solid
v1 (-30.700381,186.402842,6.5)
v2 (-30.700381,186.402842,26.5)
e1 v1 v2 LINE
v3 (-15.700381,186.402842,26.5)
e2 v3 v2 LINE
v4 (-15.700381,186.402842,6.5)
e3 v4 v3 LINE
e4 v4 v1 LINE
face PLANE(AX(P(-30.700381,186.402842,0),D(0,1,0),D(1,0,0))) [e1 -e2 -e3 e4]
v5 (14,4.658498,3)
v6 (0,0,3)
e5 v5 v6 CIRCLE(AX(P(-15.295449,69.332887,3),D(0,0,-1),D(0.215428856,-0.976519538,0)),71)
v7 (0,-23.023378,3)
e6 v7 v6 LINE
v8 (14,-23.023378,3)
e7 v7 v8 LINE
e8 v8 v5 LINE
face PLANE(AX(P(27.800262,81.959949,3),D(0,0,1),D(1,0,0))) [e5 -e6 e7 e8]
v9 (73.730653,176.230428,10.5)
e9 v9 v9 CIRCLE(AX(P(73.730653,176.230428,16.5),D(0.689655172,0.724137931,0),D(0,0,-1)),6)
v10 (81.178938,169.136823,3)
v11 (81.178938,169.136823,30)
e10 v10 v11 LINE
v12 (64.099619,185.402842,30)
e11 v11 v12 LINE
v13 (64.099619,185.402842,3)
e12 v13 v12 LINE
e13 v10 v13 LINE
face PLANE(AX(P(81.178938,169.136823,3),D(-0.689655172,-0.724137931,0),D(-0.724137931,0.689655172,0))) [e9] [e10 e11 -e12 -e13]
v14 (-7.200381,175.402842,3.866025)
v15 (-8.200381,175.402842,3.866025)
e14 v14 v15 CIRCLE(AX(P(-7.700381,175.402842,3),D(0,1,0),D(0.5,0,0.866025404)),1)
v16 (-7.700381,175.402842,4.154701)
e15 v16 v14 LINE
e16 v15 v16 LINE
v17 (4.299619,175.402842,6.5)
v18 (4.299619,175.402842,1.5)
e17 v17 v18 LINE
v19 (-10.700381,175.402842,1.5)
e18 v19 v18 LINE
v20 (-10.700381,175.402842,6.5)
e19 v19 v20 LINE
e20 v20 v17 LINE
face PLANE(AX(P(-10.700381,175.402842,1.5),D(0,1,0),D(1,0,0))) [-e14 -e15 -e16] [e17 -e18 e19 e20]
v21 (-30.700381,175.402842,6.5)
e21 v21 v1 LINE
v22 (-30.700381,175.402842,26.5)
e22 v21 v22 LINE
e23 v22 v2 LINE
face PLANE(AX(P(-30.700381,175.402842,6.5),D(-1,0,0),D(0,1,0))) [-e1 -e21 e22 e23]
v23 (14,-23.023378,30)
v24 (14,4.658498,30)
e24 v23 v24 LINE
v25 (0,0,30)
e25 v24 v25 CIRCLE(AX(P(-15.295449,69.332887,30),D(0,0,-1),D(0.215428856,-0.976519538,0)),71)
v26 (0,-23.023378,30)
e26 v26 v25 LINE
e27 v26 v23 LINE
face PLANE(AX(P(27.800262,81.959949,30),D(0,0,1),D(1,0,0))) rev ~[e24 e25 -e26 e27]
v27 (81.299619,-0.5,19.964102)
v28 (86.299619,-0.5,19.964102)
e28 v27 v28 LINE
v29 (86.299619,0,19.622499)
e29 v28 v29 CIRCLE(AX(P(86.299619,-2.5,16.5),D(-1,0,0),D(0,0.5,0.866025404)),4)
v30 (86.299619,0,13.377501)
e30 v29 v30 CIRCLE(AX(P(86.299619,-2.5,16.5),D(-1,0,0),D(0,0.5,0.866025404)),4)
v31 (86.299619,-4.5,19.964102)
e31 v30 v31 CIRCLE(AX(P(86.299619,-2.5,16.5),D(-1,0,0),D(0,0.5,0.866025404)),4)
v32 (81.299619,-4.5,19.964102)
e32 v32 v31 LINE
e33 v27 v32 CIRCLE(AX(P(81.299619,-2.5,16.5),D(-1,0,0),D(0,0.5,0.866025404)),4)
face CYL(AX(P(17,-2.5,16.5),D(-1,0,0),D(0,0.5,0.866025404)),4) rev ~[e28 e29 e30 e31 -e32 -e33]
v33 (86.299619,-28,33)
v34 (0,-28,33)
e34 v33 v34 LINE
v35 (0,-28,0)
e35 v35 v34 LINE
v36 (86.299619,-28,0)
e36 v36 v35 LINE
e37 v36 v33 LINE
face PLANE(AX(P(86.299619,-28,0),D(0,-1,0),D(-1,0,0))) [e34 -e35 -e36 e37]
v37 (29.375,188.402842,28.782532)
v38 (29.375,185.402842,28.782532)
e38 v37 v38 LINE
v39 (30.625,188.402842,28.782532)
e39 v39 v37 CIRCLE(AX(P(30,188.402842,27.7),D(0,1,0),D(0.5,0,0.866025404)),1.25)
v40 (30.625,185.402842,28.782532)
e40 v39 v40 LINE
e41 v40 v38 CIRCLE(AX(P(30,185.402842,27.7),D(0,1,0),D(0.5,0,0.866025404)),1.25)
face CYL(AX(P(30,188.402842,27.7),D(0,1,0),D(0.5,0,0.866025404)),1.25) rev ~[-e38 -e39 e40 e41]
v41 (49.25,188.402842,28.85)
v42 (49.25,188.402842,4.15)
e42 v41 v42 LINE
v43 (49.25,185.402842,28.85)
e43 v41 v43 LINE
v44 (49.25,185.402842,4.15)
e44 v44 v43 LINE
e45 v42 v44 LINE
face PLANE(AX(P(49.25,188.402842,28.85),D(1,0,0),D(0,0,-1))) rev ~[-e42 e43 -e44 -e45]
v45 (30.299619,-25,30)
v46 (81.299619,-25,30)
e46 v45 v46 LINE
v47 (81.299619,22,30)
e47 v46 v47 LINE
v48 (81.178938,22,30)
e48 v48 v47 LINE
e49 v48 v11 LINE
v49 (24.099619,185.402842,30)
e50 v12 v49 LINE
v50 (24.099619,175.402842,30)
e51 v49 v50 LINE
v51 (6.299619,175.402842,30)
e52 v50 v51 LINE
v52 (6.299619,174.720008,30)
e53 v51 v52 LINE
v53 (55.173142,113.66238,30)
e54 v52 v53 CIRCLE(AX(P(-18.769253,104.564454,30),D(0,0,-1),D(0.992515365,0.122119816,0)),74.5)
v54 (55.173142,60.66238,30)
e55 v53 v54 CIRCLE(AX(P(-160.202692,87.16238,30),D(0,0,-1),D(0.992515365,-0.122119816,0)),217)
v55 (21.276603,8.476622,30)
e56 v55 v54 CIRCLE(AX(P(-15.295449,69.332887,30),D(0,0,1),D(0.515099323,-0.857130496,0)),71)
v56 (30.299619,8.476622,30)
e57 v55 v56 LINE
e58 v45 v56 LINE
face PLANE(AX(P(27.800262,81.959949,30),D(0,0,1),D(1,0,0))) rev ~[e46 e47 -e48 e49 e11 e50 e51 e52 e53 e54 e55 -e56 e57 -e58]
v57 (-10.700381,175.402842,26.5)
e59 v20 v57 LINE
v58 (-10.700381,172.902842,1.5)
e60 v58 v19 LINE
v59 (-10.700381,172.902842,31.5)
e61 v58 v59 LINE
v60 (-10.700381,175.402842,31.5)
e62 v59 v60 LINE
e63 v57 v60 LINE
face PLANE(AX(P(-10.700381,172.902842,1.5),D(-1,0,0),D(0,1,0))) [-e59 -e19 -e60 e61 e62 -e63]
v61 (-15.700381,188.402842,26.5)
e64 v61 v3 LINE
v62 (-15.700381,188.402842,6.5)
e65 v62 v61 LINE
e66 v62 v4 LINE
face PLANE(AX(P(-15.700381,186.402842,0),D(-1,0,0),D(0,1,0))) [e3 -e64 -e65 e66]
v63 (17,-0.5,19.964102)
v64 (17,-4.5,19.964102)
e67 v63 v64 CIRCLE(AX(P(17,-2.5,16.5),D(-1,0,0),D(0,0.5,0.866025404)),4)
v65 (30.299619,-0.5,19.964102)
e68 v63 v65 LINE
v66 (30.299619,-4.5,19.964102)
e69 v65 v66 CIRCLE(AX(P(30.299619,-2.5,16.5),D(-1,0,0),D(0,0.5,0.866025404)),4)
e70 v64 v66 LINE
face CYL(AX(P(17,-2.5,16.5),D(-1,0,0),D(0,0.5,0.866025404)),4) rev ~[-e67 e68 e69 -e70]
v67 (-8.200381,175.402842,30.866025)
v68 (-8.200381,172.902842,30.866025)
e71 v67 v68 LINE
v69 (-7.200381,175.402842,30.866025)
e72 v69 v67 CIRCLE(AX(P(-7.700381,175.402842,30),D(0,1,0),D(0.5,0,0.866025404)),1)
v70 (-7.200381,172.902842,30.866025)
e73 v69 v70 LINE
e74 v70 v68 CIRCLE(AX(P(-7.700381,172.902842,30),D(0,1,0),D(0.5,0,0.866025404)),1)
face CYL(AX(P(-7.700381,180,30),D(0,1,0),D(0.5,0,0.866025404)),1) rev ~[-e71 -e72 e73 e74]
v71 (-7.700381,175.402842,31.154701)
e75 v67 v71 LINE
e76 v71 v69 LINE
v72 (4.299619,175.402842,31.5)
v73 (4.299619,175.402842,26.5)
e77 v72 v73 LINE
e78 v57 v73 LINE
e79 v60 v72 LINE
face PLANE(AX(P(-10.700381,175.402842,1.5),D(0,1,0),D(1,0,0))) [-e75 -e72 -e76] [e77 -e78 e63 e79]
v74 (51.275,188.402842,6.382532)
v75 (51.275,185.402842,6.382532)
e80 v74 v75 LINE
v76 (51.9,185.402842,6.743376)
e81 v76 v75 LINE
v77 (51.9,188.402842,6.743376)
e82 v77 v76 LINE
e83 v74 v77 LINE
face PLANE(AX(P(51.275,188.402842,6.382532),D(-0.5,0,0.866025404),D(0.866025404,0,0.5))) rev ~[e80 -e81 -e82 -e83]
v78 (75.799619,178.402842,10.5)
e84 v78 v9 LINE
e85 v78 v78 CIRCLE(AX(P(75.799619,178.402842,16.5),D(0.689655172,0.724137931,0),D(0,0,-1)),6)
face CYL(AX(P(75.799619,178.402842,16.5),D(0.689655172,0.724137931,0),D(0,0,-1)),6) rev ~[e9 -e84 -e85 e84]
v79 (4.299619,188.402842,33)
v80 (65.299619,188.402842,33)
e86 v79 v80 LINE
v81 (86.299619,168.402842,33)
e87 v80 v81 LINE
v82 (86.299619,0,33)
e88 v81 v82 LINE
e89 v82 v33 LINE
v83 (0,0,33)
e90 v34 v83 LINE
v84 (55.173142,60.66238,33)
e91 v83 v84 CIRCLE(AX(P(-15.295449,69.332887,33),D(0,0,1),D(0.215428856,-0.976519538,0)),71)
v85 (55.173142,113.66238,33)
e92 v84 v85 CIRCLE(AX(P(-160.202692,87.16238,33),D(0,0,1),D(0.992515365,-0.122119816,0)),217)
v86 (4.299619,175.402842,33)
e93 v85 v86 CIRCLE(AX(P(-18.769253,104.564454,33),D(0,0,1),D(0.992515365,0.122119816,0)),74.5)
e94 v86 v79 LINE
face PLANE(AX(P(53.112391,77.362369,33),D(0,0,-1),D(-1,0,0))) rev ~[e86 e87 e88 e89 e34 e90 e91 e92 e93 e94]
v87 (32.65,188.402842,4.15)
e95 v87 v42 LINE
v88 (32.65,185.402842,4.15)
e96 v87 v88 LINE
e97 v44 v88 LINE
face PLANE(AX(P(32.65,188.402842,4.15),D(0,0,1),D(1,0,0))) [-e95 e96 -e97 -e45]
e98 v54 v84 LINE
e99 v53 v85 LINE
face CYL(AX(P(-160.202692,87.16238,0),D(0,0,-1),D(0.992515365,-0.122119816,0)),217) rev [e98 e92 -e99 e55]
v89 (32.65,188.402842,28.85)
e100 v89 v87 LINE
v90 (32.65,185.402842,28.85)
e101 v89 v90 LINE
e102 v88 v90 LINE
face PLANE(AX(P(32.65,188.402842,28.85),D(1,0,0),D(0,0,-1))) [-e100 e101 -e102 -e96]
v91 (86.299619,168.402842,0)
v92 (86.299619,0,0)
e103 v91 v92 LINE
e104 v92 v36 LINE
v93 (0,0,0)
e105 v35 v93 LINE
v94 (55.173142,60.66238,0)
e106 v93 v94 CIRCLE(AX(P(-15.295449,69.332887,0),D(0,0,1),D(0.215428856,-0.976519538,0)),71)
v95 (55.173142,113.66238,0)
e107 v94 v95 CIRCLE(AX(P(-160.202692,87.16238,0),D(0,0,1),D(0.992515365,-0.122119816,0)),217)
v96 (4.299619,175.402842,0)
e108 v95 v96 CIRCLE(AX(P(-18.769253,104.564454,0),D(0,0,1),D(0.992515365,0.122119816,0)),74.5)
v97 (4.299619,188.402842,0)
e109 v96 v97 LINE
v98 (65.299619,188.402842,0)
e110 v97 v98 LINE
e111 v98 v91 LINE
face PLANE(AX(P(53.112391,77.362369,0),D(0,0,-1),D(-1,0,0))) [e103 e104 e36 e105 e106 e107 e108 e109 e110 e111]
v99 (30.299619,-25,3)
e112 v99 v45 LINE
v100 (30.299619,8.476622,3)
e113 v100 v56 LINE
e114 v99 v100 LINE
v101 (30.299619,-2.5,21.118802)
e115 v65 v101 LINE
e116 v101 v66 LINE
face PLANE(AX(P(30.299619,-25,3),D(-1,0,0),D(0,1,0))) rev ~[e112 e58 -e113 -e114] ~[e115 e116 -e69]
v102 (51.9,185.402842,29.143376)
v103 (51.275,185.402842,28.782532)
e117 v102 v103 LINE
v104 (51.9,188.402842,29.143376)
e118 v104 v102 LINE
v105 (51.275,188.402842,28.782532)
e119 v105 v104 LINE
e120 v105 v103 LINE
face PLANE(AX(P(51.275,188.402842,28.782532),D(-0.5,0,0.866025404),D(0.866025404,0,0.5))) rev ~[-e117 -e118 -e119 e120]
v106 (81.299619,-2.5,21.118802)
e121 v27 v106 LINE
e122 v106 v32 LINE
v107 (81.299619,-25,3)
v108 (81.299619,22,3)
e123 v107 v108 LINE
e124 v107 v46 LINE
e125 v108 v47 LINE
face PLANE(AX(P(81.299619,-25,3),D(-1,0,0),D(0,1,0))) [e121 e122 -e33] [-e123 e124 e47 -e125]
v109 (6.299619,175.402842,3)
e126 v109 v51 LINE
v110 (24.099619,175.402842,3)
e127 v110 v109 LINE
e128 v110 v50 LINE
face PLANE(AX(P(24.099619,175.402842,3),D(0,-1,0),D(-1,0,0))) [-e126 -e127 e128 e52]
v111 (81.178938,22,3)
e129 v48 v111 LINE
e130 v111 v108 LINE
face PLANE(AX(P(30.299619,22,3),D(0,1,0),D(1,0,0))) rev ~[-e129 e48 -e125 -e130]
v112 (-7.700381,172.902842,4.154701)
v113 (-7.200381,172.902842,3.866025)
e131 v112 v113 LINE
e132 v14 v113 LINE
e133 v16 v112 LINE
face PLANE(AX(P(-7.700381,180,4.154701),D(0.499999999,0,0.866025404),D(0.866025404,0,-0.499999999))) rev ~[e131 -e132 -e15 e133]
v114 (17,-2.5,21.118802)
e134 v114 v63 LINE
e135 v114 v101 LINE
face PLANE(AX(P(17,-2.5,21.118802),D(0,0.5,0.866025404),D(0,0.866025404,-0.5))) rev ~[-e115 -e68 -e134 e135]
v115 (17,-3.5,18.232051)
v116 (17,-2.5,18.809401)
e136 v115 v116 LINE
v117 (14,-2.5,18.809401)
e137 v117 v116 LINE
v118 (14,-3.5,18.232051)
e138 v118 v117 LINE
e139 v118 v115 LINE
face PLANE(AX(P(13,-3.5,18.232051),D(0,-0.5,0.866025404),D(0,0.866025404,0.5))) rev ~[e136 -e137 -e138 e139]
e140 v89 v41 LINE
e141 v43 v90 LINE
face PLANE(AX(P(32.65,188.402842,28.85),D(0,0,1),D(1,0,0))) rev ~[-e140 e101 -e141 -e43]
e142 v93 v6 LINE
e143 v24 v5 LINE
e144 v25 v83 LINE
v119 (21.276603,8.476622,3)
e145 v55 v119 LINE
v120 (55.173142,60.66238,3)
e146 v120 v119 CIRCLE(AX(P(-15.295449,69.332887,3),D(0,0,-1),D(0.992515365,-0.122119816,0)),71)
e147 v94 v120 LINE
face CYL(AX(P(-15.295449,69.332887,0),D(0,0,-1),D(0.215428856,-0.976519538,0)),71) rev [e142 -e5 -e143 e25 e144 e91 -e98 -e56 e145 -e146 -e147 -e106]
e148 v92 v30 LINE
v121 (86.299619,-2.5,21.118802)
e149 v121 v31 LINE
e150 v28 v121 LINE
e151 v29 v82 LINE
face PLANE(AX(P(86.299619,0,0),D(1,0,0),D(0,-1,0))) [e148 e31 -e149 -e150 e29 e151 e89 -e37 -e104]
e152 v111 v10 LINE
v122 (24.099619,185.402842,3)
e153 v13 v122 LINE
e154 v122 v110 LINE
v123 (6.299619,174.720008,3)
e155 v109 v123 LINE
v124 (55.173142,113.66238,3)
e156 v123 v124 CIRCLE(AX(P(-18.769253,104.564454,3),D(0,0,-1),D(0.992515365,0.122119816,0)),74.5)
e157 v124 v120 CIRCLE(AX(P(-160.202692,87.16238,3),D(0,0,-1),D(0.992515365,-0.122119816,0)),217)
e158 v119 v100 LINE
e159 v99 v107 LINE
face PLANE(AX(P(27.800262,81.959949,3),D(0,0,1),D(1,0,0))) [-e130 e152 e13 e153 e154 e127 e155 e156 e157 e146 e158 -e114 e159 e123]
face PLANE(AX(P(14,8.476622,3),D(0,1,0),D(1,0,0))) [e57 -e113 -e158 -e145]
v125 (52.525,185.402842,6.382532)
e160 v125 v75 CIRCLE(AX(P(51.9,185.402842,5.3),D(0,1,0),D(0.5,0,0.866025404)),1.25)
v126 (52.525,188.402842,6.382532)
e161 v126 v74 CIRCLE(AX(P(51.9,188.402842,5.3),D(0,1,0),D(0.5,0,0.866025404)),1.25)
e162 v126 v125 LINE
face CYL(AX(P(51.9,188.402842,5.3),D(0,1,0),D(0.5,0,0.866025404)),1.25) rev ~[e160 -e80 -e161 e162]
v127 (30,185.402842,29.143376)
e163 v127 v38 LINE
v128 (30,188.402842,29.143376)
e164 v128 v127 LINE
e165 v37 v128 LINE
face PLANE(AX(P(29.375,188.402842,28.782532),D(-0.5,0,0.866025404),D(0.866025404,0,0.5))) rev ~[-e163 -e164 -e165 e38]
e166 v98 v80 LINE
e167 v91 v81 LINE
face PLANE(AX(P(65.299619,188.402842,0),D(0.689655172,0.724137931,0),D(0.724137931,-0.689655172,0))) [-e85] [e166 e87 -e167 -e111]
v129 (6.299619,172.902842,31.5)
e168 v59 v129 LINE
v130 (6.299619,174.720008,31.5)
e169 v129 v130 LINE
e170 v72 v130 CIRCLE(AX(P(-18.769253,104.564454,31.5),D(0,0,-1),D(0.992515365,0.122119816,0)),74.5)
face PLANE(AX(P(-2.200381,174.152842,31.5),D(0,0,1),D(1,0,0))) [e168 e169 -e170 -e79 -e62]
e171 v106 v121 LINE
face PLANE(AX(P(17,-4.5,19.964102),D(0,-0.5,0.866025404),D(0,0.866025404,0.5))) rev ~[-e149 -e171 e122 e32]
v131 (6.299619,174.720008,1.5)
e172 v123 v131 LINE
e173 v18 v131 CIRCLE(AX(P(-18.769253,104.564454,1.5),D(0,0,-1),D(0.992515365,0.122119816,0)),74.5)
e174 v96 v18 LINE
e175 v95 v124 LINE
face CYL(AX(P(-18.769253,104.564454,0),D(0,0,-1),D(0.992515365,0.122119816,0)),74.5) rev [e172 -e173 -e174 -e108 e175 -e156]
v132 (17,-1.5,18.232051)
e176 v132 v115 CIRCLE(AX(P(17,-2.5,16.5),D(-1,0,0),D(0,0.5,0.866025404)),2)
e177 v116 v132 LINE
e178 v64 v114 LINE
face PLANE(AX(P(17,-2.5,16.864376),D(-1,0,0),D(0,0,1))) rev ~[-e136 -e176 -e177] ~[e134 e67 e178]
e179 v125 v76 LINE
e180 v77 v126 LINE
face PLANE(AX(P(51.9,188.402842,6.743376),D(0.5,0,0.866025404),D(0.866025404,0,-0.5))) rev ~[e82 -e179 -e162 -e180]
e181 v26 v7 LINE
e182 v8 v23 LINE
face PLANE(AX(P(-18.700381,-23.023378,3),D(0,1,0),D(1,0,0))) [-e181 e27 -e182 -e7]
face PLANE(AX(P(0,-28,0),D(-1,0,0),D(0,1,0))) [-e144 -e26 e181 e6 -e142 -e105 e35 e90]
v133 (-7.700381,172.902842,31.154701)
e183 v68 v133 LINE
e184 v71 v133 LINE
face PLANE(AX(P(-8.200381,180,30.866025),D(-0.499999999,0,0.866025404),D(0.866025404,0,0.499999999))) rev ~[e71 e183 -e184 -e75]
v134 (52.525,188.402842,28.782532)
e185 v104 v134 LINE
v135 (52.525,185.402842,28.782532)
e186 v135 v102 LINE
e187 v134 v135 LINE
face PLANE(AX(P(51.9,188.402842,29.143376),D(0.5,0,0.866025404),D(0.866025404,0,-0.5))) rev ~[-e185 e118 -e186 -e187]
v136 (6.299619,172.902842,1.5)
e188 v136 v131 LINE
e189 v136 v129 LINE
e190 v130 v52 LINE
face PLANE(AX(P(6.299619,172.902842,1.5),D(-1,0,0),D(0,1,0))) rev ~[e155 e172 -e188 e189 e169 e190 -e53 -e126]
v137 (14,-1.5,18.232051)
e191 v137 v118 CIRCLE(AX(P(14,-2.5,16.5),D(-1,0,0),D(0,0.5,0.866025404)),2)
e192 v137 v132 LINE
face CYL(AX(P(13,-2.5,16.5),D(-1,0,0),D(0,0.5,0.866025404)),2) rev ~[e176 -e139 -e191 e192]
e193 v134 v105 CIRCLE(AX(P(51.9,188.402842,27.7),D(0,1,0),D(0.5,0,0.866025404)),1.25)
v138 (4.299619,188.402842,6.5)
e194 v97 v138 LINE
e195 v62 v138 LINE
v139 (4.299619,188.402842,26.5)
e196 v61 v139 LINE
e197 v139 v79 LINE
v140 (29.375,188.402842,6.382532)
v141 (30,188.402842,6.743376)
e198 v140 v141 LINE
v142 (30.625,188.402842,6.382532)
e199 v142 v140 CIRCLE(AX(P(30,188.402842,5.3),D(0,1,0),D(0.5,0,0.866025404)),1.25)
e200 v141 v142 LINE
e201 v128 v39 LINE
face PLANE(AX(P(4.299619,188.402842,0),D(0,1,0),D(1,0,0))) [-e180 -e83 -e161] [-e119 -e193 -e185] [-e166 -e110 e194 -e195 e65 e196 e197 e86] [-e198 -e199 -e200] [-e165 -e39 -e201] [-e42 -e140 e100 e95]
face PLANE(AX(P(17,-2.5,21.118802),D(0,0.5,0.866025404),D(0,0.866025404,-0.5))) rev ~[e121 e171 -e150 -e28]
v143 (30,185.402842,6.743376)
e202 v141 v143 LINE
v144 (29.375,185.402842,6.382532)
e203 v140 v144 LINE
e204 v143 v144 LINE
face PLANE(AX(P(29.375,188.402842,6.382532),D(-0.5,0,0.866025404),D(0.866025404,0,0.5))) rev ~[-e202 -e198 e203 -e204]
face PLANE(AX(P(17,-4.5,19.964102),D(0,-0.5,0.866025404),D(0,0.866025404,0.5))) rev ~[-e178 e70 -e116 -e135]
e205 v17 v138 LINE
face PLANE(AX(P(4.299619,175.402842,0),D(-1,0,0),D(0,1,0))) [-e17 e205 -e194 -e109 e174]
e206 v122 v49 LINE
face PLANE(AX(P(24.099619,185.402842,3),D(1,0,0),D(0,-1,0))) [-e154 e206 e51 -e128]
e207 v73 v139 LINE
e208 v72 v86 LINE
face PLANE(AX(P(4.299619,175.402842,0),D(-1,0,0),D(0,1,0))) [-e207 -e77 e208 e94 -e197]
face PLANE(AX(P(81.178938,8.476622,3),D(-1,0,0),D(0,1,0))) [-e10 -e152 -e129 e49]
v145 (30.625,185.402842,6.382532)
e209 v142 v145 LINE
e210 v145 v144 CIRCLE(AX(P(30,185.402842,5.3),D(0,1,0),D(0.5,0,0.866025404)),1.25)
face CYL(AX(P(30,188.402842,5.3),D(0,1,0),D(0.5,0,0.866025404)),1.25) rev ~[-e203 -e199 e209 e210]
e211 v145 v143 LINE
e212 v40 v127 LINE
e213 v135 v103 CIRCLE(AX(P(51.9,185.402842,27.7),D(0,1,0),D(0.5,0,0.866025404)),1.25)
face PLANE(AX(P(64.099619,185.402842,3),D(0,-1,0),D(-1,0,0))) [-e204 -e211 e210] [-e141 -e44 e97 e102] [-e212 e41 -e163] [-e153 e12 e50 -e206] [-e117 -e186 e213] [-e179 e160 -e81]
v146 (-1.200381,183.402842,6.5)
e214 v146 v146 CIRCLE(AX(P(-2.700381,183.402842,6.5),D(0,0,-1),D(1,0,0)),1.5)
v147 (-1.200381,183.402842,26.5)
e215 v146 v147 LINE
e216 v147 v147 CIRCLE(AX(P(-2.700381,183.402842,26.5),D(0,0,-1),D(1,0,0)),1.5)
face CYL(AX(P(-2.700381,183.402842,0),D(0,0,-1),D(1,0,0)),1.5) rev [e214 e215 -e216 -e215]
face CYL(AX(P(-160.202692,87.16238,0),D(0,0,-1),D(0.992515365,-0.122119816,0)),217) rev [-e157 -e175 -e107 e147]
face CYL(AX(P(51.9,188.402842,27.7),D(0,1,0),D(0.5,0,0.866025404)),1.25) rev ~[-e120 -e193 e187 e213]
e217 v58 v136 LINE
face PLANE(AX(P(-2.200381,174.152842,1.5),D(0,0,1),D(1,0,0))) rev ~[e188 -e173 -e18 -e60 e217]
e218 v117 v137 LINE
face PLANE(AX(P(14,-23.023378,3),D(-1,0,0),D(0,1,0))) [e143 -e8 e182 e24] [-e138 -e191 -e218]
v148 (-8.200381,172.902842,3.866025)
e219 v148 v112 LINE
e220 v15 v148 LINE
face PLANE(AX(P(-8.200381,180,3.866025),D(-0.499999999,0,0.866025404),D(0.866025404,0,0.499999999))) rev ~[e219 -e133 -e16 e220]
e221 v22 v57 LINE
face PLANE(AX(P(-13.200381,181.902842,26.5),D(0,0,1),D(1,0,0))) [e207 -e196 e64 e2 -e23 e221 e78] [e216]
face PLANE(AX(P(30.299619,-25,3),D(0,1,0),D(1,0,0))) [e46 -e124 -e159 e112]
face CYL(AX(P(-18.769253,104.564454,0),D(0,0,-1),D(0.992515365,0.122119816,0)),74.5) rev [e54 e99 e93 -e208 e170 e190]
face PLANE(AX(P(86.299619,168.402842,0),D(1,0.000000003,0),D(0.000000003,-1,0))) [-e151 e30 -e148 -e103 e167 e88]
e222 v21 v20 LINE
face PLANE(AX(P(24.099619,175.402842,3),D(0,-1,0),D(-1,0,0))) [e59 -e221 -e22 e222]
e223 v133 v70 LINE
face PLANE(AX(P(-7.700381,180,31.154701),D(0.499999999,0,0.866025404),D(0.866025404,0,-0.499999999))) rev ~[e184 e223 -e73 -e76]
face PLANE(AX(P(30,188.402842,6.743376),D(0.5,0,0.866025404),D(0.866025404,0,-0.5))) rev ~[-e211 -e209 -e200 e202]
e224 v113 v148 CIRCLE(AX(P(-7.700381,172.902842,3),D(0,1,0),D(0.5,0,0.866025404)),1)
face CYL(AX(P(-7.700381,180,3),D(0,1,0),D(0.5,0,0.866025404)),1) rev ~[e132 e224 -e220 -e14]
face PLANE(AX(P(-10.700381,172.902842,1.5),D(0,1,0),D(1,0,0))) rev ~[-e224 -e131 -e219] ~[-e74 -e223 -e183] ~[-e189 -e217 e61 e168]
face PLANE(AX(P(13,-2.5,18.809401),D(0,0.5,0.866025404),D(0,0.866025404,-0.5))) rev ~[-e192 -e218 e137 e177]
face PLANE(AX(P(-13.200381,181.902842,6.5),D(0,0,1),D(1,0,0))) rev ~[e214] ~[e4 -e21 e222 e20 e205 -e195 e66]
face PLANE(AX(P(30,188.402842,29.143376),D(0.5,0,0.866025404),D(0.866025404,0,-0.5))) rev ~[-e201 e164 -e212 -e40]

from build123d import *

# Parameters (mm, degrees)
EXTRUDE_6_DEPTH      = 33
CUT_EXTRUDE_START    = 3
CUT_EXTRUDE_2_DEPTH  = 27
EXTRUDE_START        = 6.5
SKETCH_7_W           = 35
SKETCH_7_H           = 13
EXTRUDE_7_DEPTH      = 20
EXTRUDE_START_2      = 1.5
SKETCH_11_W          = 17
SKETCH_11_H          = 2.5
EXTRUDE_15_DEPTH     = 30
CUT_EXTRUDE_START_2  = 180
CUT_EXTRUDE_3_DEPTH  = 10
SKETCH_13_R          = 1.5
CUT_EXTRUDE_4_DEPTH  = 30
SKETCH_14_W          = 15
SKETCH_14_H          = 2
CUT_EXTRUDE_5_DEPTH  = 30
EXTRUDE_START_3      = 11.5
SKETCH_15_W          = 67.299618531
SKETCH_15_H          = 10
EXTRUDE_16_DEPTH     = 10
CUT_EXTRUDE_START_3  = 17
CUT_EXTRUDE_7_DEPTH  = 75
CUT_EXTRUDE_START_4  = 13
CUT_EXTRUDE_9_DEPTH  = 5
SKETCH_20_W          = 16.6
SKETCH_20_H          = 24.7
CUT_EXTRUDE_10_DEPTH = 5
SKETCH_21_R          = 6
CUT_EXTRUDE_11_DEPTH = 5
SKETCH_22_W          = 51
SKETCH_22_H          = 47
CUT_EXTRUDE_12_DEPTH = 27


with BuildPart() as part:
    # Эскиз1 → Бобышка-Вытянуть6 (new body)
    with BuildSketch(Plane.XY):
        with BuildLine():
            Line((4.299618531, 175.402841826), (4.299618531, 188.402841826))
            Line((4.299618531, 188.402841826), (65.299618531, 188.402841826))
            Line((65.299618531, 188.402841826), (86.299618531, 168.402841826))
            Line((86.299618531, 168.402841826), (86.299619, 0))
            Line((86.299619, 0), (86.299619, -28))
            Line((86.299619, -28), (0, -28))
            Line((0, -28), (0, 0))
            ThreePointArc((0, 0), (37.229295141, 21.561020186), (55.173142182, 60.662380285))
            ThreePointArc((55.173142182, 60.662380285), (56.797307883, 87.162380285), (55.173142182, 113.662380285))
            ThreePointArc((55.173142182, 113.662380285), (38.726552267, 151.940422917), (4.299618531, 175.402841826))
        make_face()
    extrude(amount=EXTRUDE_6_DEPTH)

    # Эскиз5 → Вырез-Вытянуть2 (cut)
    with BuildSketch(Plane.XY.offset(CUT_EXTRUDE_START)):
        Polygon((24.099618531, 175.402841826), (4.299618531, 175.402841826), (4.299618531, 169.136823089), (-18.700381469, 169.136823089), (-18.700381469, -23.02337805), (14, -23.02337805), (14, 8.47662195), (81.178938205, 8.47662195), (81.178938205, 169.136823089), (64.099618531, 185.402841826), (24.099618531, 185.402841826), align=None)
    extrude(amount=CUT_EXTRUDE_2_DEPTH, mode=Mode.SUBTRACT)

    # Эскиз7 → Бобышка-Вытянуть7 (add)
    with BuildSketch(Plane.XY.offset(EXTRUDE_START)):
        with Locations((-13.200381469, 181.902841826)):
            Rectangle(SKETCH_7_W, SKETCH_7_H)
    extrude(amount=EXTRUDE_7_DEPTH)

    # Эскиз11 → Бобышка-Вытянуть15 (add)
    with BuildSketch(Plane.XY.offset(EXTRUDE_START_2)):
        with Locations((-2.200381469, 174.152841826)):
            Rectangle(SKETCH_11_W, SKETCH_11_H)
    extrude(amount=EXTRUDE_15_DEPTH)

    # Эскиз12 → Вырез-Вытянуть3 (cut)
    with BuildSketch(Plane(origin=(0, 0, 0), x_dir=(1, 0, 0), z_dir=(0, 1, 0)).offset(CUT_EXTRUDE_START_2)):
        with BuildLine():
            Line((-7.700381469, -31.154700538), (-7.200381469, -30.866025404))
            ThreePointArc((-7.200381469, -30.866025404), (-7.700381469, -29), (-8.200381469, -30.866025404))
            Line((-8.200381469, -30.866025404), (-7.700381469, -31.154700538))
        make_face()
        with BuildLine():
            Line((-7.700381469, -4.154700538), (-7.200381469, -3.866025404))
            ThreePointArc((-7.200381469, -3.866025404), (-7.700381469, -2), (-8.200381469, -3.866025404))
            Line((-8.200381469, -3.866025404), (-7.700381469, -4.154700538))
        make_face()
    extrude(amount=-CUT_EXTRUDE_3_DEPTH, mode=Mode.SUBTRACT)

    # Эскиз13 → Вырез-Вытянуть4 (cut)
    with BuildSketch(Plane.XY):
        with Locations((-2.700381469, 183.402841826)):
            Circle(SKETCH_13_R)
    extrude(amount=CUT_EXTRUDE_4_DEPTH, mode=Mode.SUBTRACT)

    # Эскиз14 → Вырез-Вытянуть5 (cut)
    with BuildSketch(Plane.XY):
        with Locations((-23.200381469, 187.402841826)):
            Rectangle(SKETCH_14_W, SKETCH_14_H)
    extrude(amount=CUT_EXTRUDE_5_DEPTH, mode=Mode.SUBTRACT)

    # Эскиз15 → Бобышка-Вытянуть16 (add)
    with BuildSketch(Plane.XY.offset(EXTRUDE_START_3)):
        with Locations((47.649809735, -2.5)):
            Rectangle(SKETCH_15_W, SKETCH_15_H)
    extrude(amount=EXTRUDE_16_DEPTH)

    # Эскиз17 → Вырез-Вытянуть7 (cut)
    with BuildSketch(Plane(origin=(0, 0, 0), x_dir=(0, 0, -1), z_dir=(1, 0, 0)).offset(CUT_EXTRUDE_START_3)):
        with BuildLine():
            Line((-21.118802154, -2.5), (-19.964101615, -0.5))
            ThreePointArc((-19.964101615, -0.5), (-12.5, -2.5), (-19.964101615, -4.5))
            Line((-19.964101615, -4.5), (-21.118802154, -2.5))
        make_face()
    extrude(amount=CUT_EXTRUDE_7_DEPTH, mode=Mode.SUBTRACT)

    # Эскиз18 → Вырез-Вытянуть9 (cut)
    with BuildSketch(Plane(origin=(0, 0, 0), x_dir=(0, 0, -1), z_dir=(1, 0, 0)).offset(CUT_EXTRUDE_START_4)):
        with BuildLine():
            Line((-18.809401077, -2.5), (-18.232050808, -1.5))
            ThreePointArc((-18.232050808, -1.5), (-14.5, -2.5), (-18.232050808, -3.5))
            Line((-18.232050808, -3.5), (-18.809401077, -2.5))
        make_face()
    extrude(amount=CUT_EXTRUDE_9_DEPTH, mode=Mode.SUBTRACT)

    # Эскиз20 → Вырез-Вытянуть10 (cut)
    with BuildSketch(Plane(origin=(0, 188.402841826, 0), x_dir=(1, 0, 0), z_dir=(0, 1, 0))):
        with Locations((40.95, -16.5)):
            Rectangle(SKETCH_20_W, SKETCH_20_H)
        with BuildLine():
            Line((30, -29.143375673), (30.625, -28.782531755))
            ThreePointArc((30.625, -28.782531755), (30, -26.45), (29.375, -28.782531755))
            Line((29.375, -28.782531755), (30, -29.143375673))
        make_face()
        with BuildLine():
            Line((30, -6.743375673), (30.625, -6.382531755))
            ThreePointArc((30.625, -6.382531755), (30, -4.05), (29.375, -6.382531755))
            Line((29.375, -6.382531755), (30, -6.743375673))
        make_face()
        with BuildLine():
            Line((51.9, -6.743375673), (52.525, -6.382531755))
            ThreePointArc((52.525, -6.382531755), (51.9, -4.05), (51.275, -6.382531755))
            Line((51.275, -6.382531755), (51.9, -6.743375673))
        make_face()
        with BuildLine():
            Line((51.9, -29.143375673), (52.525, -28.782531755))
            ThreePointArc((52.525, -28.782531755), (51.9, -26.45), (51.275, -28.782531755))
            Line((51.275, -28.782531755), (51.9, -29.143375673))
        make_face()
    extrude(amount=-CUT_EXTRUDE_10_DEPTH, mode=Mode.SUBTRACT)

    # Эскиз21 → Вырез-Вытянуть11 (cut)
    with BuildSketch(Plane(origin=(125.147492247, 131.404866859, 0), x_dir=(0, 0, -1), z_dir=(0.689655172, 0.724137931, 0))):
        with Locations((-16.5, 68.147063703)):
            Circle(SKETCH_21_R)
    extrude(amount=-CUT_EXTRUDE_11_DEPTH, mode=Mode.SUBTRACT)

    # Эскиз22 → Вырез-Вытянуть12 (cut)
    with BuildSketch(Plane.XY.offset(CUT_EXTRUDE_START)):
        with Locations((55.799619, -1.5)):
            Rectangle(SKETCH_22_W, SKETCH_22_H)
    extrude(amount=CUT_EXTRUDE_12_DEPTH, mode=Mode.SUBTRACT)


solid = part.part
